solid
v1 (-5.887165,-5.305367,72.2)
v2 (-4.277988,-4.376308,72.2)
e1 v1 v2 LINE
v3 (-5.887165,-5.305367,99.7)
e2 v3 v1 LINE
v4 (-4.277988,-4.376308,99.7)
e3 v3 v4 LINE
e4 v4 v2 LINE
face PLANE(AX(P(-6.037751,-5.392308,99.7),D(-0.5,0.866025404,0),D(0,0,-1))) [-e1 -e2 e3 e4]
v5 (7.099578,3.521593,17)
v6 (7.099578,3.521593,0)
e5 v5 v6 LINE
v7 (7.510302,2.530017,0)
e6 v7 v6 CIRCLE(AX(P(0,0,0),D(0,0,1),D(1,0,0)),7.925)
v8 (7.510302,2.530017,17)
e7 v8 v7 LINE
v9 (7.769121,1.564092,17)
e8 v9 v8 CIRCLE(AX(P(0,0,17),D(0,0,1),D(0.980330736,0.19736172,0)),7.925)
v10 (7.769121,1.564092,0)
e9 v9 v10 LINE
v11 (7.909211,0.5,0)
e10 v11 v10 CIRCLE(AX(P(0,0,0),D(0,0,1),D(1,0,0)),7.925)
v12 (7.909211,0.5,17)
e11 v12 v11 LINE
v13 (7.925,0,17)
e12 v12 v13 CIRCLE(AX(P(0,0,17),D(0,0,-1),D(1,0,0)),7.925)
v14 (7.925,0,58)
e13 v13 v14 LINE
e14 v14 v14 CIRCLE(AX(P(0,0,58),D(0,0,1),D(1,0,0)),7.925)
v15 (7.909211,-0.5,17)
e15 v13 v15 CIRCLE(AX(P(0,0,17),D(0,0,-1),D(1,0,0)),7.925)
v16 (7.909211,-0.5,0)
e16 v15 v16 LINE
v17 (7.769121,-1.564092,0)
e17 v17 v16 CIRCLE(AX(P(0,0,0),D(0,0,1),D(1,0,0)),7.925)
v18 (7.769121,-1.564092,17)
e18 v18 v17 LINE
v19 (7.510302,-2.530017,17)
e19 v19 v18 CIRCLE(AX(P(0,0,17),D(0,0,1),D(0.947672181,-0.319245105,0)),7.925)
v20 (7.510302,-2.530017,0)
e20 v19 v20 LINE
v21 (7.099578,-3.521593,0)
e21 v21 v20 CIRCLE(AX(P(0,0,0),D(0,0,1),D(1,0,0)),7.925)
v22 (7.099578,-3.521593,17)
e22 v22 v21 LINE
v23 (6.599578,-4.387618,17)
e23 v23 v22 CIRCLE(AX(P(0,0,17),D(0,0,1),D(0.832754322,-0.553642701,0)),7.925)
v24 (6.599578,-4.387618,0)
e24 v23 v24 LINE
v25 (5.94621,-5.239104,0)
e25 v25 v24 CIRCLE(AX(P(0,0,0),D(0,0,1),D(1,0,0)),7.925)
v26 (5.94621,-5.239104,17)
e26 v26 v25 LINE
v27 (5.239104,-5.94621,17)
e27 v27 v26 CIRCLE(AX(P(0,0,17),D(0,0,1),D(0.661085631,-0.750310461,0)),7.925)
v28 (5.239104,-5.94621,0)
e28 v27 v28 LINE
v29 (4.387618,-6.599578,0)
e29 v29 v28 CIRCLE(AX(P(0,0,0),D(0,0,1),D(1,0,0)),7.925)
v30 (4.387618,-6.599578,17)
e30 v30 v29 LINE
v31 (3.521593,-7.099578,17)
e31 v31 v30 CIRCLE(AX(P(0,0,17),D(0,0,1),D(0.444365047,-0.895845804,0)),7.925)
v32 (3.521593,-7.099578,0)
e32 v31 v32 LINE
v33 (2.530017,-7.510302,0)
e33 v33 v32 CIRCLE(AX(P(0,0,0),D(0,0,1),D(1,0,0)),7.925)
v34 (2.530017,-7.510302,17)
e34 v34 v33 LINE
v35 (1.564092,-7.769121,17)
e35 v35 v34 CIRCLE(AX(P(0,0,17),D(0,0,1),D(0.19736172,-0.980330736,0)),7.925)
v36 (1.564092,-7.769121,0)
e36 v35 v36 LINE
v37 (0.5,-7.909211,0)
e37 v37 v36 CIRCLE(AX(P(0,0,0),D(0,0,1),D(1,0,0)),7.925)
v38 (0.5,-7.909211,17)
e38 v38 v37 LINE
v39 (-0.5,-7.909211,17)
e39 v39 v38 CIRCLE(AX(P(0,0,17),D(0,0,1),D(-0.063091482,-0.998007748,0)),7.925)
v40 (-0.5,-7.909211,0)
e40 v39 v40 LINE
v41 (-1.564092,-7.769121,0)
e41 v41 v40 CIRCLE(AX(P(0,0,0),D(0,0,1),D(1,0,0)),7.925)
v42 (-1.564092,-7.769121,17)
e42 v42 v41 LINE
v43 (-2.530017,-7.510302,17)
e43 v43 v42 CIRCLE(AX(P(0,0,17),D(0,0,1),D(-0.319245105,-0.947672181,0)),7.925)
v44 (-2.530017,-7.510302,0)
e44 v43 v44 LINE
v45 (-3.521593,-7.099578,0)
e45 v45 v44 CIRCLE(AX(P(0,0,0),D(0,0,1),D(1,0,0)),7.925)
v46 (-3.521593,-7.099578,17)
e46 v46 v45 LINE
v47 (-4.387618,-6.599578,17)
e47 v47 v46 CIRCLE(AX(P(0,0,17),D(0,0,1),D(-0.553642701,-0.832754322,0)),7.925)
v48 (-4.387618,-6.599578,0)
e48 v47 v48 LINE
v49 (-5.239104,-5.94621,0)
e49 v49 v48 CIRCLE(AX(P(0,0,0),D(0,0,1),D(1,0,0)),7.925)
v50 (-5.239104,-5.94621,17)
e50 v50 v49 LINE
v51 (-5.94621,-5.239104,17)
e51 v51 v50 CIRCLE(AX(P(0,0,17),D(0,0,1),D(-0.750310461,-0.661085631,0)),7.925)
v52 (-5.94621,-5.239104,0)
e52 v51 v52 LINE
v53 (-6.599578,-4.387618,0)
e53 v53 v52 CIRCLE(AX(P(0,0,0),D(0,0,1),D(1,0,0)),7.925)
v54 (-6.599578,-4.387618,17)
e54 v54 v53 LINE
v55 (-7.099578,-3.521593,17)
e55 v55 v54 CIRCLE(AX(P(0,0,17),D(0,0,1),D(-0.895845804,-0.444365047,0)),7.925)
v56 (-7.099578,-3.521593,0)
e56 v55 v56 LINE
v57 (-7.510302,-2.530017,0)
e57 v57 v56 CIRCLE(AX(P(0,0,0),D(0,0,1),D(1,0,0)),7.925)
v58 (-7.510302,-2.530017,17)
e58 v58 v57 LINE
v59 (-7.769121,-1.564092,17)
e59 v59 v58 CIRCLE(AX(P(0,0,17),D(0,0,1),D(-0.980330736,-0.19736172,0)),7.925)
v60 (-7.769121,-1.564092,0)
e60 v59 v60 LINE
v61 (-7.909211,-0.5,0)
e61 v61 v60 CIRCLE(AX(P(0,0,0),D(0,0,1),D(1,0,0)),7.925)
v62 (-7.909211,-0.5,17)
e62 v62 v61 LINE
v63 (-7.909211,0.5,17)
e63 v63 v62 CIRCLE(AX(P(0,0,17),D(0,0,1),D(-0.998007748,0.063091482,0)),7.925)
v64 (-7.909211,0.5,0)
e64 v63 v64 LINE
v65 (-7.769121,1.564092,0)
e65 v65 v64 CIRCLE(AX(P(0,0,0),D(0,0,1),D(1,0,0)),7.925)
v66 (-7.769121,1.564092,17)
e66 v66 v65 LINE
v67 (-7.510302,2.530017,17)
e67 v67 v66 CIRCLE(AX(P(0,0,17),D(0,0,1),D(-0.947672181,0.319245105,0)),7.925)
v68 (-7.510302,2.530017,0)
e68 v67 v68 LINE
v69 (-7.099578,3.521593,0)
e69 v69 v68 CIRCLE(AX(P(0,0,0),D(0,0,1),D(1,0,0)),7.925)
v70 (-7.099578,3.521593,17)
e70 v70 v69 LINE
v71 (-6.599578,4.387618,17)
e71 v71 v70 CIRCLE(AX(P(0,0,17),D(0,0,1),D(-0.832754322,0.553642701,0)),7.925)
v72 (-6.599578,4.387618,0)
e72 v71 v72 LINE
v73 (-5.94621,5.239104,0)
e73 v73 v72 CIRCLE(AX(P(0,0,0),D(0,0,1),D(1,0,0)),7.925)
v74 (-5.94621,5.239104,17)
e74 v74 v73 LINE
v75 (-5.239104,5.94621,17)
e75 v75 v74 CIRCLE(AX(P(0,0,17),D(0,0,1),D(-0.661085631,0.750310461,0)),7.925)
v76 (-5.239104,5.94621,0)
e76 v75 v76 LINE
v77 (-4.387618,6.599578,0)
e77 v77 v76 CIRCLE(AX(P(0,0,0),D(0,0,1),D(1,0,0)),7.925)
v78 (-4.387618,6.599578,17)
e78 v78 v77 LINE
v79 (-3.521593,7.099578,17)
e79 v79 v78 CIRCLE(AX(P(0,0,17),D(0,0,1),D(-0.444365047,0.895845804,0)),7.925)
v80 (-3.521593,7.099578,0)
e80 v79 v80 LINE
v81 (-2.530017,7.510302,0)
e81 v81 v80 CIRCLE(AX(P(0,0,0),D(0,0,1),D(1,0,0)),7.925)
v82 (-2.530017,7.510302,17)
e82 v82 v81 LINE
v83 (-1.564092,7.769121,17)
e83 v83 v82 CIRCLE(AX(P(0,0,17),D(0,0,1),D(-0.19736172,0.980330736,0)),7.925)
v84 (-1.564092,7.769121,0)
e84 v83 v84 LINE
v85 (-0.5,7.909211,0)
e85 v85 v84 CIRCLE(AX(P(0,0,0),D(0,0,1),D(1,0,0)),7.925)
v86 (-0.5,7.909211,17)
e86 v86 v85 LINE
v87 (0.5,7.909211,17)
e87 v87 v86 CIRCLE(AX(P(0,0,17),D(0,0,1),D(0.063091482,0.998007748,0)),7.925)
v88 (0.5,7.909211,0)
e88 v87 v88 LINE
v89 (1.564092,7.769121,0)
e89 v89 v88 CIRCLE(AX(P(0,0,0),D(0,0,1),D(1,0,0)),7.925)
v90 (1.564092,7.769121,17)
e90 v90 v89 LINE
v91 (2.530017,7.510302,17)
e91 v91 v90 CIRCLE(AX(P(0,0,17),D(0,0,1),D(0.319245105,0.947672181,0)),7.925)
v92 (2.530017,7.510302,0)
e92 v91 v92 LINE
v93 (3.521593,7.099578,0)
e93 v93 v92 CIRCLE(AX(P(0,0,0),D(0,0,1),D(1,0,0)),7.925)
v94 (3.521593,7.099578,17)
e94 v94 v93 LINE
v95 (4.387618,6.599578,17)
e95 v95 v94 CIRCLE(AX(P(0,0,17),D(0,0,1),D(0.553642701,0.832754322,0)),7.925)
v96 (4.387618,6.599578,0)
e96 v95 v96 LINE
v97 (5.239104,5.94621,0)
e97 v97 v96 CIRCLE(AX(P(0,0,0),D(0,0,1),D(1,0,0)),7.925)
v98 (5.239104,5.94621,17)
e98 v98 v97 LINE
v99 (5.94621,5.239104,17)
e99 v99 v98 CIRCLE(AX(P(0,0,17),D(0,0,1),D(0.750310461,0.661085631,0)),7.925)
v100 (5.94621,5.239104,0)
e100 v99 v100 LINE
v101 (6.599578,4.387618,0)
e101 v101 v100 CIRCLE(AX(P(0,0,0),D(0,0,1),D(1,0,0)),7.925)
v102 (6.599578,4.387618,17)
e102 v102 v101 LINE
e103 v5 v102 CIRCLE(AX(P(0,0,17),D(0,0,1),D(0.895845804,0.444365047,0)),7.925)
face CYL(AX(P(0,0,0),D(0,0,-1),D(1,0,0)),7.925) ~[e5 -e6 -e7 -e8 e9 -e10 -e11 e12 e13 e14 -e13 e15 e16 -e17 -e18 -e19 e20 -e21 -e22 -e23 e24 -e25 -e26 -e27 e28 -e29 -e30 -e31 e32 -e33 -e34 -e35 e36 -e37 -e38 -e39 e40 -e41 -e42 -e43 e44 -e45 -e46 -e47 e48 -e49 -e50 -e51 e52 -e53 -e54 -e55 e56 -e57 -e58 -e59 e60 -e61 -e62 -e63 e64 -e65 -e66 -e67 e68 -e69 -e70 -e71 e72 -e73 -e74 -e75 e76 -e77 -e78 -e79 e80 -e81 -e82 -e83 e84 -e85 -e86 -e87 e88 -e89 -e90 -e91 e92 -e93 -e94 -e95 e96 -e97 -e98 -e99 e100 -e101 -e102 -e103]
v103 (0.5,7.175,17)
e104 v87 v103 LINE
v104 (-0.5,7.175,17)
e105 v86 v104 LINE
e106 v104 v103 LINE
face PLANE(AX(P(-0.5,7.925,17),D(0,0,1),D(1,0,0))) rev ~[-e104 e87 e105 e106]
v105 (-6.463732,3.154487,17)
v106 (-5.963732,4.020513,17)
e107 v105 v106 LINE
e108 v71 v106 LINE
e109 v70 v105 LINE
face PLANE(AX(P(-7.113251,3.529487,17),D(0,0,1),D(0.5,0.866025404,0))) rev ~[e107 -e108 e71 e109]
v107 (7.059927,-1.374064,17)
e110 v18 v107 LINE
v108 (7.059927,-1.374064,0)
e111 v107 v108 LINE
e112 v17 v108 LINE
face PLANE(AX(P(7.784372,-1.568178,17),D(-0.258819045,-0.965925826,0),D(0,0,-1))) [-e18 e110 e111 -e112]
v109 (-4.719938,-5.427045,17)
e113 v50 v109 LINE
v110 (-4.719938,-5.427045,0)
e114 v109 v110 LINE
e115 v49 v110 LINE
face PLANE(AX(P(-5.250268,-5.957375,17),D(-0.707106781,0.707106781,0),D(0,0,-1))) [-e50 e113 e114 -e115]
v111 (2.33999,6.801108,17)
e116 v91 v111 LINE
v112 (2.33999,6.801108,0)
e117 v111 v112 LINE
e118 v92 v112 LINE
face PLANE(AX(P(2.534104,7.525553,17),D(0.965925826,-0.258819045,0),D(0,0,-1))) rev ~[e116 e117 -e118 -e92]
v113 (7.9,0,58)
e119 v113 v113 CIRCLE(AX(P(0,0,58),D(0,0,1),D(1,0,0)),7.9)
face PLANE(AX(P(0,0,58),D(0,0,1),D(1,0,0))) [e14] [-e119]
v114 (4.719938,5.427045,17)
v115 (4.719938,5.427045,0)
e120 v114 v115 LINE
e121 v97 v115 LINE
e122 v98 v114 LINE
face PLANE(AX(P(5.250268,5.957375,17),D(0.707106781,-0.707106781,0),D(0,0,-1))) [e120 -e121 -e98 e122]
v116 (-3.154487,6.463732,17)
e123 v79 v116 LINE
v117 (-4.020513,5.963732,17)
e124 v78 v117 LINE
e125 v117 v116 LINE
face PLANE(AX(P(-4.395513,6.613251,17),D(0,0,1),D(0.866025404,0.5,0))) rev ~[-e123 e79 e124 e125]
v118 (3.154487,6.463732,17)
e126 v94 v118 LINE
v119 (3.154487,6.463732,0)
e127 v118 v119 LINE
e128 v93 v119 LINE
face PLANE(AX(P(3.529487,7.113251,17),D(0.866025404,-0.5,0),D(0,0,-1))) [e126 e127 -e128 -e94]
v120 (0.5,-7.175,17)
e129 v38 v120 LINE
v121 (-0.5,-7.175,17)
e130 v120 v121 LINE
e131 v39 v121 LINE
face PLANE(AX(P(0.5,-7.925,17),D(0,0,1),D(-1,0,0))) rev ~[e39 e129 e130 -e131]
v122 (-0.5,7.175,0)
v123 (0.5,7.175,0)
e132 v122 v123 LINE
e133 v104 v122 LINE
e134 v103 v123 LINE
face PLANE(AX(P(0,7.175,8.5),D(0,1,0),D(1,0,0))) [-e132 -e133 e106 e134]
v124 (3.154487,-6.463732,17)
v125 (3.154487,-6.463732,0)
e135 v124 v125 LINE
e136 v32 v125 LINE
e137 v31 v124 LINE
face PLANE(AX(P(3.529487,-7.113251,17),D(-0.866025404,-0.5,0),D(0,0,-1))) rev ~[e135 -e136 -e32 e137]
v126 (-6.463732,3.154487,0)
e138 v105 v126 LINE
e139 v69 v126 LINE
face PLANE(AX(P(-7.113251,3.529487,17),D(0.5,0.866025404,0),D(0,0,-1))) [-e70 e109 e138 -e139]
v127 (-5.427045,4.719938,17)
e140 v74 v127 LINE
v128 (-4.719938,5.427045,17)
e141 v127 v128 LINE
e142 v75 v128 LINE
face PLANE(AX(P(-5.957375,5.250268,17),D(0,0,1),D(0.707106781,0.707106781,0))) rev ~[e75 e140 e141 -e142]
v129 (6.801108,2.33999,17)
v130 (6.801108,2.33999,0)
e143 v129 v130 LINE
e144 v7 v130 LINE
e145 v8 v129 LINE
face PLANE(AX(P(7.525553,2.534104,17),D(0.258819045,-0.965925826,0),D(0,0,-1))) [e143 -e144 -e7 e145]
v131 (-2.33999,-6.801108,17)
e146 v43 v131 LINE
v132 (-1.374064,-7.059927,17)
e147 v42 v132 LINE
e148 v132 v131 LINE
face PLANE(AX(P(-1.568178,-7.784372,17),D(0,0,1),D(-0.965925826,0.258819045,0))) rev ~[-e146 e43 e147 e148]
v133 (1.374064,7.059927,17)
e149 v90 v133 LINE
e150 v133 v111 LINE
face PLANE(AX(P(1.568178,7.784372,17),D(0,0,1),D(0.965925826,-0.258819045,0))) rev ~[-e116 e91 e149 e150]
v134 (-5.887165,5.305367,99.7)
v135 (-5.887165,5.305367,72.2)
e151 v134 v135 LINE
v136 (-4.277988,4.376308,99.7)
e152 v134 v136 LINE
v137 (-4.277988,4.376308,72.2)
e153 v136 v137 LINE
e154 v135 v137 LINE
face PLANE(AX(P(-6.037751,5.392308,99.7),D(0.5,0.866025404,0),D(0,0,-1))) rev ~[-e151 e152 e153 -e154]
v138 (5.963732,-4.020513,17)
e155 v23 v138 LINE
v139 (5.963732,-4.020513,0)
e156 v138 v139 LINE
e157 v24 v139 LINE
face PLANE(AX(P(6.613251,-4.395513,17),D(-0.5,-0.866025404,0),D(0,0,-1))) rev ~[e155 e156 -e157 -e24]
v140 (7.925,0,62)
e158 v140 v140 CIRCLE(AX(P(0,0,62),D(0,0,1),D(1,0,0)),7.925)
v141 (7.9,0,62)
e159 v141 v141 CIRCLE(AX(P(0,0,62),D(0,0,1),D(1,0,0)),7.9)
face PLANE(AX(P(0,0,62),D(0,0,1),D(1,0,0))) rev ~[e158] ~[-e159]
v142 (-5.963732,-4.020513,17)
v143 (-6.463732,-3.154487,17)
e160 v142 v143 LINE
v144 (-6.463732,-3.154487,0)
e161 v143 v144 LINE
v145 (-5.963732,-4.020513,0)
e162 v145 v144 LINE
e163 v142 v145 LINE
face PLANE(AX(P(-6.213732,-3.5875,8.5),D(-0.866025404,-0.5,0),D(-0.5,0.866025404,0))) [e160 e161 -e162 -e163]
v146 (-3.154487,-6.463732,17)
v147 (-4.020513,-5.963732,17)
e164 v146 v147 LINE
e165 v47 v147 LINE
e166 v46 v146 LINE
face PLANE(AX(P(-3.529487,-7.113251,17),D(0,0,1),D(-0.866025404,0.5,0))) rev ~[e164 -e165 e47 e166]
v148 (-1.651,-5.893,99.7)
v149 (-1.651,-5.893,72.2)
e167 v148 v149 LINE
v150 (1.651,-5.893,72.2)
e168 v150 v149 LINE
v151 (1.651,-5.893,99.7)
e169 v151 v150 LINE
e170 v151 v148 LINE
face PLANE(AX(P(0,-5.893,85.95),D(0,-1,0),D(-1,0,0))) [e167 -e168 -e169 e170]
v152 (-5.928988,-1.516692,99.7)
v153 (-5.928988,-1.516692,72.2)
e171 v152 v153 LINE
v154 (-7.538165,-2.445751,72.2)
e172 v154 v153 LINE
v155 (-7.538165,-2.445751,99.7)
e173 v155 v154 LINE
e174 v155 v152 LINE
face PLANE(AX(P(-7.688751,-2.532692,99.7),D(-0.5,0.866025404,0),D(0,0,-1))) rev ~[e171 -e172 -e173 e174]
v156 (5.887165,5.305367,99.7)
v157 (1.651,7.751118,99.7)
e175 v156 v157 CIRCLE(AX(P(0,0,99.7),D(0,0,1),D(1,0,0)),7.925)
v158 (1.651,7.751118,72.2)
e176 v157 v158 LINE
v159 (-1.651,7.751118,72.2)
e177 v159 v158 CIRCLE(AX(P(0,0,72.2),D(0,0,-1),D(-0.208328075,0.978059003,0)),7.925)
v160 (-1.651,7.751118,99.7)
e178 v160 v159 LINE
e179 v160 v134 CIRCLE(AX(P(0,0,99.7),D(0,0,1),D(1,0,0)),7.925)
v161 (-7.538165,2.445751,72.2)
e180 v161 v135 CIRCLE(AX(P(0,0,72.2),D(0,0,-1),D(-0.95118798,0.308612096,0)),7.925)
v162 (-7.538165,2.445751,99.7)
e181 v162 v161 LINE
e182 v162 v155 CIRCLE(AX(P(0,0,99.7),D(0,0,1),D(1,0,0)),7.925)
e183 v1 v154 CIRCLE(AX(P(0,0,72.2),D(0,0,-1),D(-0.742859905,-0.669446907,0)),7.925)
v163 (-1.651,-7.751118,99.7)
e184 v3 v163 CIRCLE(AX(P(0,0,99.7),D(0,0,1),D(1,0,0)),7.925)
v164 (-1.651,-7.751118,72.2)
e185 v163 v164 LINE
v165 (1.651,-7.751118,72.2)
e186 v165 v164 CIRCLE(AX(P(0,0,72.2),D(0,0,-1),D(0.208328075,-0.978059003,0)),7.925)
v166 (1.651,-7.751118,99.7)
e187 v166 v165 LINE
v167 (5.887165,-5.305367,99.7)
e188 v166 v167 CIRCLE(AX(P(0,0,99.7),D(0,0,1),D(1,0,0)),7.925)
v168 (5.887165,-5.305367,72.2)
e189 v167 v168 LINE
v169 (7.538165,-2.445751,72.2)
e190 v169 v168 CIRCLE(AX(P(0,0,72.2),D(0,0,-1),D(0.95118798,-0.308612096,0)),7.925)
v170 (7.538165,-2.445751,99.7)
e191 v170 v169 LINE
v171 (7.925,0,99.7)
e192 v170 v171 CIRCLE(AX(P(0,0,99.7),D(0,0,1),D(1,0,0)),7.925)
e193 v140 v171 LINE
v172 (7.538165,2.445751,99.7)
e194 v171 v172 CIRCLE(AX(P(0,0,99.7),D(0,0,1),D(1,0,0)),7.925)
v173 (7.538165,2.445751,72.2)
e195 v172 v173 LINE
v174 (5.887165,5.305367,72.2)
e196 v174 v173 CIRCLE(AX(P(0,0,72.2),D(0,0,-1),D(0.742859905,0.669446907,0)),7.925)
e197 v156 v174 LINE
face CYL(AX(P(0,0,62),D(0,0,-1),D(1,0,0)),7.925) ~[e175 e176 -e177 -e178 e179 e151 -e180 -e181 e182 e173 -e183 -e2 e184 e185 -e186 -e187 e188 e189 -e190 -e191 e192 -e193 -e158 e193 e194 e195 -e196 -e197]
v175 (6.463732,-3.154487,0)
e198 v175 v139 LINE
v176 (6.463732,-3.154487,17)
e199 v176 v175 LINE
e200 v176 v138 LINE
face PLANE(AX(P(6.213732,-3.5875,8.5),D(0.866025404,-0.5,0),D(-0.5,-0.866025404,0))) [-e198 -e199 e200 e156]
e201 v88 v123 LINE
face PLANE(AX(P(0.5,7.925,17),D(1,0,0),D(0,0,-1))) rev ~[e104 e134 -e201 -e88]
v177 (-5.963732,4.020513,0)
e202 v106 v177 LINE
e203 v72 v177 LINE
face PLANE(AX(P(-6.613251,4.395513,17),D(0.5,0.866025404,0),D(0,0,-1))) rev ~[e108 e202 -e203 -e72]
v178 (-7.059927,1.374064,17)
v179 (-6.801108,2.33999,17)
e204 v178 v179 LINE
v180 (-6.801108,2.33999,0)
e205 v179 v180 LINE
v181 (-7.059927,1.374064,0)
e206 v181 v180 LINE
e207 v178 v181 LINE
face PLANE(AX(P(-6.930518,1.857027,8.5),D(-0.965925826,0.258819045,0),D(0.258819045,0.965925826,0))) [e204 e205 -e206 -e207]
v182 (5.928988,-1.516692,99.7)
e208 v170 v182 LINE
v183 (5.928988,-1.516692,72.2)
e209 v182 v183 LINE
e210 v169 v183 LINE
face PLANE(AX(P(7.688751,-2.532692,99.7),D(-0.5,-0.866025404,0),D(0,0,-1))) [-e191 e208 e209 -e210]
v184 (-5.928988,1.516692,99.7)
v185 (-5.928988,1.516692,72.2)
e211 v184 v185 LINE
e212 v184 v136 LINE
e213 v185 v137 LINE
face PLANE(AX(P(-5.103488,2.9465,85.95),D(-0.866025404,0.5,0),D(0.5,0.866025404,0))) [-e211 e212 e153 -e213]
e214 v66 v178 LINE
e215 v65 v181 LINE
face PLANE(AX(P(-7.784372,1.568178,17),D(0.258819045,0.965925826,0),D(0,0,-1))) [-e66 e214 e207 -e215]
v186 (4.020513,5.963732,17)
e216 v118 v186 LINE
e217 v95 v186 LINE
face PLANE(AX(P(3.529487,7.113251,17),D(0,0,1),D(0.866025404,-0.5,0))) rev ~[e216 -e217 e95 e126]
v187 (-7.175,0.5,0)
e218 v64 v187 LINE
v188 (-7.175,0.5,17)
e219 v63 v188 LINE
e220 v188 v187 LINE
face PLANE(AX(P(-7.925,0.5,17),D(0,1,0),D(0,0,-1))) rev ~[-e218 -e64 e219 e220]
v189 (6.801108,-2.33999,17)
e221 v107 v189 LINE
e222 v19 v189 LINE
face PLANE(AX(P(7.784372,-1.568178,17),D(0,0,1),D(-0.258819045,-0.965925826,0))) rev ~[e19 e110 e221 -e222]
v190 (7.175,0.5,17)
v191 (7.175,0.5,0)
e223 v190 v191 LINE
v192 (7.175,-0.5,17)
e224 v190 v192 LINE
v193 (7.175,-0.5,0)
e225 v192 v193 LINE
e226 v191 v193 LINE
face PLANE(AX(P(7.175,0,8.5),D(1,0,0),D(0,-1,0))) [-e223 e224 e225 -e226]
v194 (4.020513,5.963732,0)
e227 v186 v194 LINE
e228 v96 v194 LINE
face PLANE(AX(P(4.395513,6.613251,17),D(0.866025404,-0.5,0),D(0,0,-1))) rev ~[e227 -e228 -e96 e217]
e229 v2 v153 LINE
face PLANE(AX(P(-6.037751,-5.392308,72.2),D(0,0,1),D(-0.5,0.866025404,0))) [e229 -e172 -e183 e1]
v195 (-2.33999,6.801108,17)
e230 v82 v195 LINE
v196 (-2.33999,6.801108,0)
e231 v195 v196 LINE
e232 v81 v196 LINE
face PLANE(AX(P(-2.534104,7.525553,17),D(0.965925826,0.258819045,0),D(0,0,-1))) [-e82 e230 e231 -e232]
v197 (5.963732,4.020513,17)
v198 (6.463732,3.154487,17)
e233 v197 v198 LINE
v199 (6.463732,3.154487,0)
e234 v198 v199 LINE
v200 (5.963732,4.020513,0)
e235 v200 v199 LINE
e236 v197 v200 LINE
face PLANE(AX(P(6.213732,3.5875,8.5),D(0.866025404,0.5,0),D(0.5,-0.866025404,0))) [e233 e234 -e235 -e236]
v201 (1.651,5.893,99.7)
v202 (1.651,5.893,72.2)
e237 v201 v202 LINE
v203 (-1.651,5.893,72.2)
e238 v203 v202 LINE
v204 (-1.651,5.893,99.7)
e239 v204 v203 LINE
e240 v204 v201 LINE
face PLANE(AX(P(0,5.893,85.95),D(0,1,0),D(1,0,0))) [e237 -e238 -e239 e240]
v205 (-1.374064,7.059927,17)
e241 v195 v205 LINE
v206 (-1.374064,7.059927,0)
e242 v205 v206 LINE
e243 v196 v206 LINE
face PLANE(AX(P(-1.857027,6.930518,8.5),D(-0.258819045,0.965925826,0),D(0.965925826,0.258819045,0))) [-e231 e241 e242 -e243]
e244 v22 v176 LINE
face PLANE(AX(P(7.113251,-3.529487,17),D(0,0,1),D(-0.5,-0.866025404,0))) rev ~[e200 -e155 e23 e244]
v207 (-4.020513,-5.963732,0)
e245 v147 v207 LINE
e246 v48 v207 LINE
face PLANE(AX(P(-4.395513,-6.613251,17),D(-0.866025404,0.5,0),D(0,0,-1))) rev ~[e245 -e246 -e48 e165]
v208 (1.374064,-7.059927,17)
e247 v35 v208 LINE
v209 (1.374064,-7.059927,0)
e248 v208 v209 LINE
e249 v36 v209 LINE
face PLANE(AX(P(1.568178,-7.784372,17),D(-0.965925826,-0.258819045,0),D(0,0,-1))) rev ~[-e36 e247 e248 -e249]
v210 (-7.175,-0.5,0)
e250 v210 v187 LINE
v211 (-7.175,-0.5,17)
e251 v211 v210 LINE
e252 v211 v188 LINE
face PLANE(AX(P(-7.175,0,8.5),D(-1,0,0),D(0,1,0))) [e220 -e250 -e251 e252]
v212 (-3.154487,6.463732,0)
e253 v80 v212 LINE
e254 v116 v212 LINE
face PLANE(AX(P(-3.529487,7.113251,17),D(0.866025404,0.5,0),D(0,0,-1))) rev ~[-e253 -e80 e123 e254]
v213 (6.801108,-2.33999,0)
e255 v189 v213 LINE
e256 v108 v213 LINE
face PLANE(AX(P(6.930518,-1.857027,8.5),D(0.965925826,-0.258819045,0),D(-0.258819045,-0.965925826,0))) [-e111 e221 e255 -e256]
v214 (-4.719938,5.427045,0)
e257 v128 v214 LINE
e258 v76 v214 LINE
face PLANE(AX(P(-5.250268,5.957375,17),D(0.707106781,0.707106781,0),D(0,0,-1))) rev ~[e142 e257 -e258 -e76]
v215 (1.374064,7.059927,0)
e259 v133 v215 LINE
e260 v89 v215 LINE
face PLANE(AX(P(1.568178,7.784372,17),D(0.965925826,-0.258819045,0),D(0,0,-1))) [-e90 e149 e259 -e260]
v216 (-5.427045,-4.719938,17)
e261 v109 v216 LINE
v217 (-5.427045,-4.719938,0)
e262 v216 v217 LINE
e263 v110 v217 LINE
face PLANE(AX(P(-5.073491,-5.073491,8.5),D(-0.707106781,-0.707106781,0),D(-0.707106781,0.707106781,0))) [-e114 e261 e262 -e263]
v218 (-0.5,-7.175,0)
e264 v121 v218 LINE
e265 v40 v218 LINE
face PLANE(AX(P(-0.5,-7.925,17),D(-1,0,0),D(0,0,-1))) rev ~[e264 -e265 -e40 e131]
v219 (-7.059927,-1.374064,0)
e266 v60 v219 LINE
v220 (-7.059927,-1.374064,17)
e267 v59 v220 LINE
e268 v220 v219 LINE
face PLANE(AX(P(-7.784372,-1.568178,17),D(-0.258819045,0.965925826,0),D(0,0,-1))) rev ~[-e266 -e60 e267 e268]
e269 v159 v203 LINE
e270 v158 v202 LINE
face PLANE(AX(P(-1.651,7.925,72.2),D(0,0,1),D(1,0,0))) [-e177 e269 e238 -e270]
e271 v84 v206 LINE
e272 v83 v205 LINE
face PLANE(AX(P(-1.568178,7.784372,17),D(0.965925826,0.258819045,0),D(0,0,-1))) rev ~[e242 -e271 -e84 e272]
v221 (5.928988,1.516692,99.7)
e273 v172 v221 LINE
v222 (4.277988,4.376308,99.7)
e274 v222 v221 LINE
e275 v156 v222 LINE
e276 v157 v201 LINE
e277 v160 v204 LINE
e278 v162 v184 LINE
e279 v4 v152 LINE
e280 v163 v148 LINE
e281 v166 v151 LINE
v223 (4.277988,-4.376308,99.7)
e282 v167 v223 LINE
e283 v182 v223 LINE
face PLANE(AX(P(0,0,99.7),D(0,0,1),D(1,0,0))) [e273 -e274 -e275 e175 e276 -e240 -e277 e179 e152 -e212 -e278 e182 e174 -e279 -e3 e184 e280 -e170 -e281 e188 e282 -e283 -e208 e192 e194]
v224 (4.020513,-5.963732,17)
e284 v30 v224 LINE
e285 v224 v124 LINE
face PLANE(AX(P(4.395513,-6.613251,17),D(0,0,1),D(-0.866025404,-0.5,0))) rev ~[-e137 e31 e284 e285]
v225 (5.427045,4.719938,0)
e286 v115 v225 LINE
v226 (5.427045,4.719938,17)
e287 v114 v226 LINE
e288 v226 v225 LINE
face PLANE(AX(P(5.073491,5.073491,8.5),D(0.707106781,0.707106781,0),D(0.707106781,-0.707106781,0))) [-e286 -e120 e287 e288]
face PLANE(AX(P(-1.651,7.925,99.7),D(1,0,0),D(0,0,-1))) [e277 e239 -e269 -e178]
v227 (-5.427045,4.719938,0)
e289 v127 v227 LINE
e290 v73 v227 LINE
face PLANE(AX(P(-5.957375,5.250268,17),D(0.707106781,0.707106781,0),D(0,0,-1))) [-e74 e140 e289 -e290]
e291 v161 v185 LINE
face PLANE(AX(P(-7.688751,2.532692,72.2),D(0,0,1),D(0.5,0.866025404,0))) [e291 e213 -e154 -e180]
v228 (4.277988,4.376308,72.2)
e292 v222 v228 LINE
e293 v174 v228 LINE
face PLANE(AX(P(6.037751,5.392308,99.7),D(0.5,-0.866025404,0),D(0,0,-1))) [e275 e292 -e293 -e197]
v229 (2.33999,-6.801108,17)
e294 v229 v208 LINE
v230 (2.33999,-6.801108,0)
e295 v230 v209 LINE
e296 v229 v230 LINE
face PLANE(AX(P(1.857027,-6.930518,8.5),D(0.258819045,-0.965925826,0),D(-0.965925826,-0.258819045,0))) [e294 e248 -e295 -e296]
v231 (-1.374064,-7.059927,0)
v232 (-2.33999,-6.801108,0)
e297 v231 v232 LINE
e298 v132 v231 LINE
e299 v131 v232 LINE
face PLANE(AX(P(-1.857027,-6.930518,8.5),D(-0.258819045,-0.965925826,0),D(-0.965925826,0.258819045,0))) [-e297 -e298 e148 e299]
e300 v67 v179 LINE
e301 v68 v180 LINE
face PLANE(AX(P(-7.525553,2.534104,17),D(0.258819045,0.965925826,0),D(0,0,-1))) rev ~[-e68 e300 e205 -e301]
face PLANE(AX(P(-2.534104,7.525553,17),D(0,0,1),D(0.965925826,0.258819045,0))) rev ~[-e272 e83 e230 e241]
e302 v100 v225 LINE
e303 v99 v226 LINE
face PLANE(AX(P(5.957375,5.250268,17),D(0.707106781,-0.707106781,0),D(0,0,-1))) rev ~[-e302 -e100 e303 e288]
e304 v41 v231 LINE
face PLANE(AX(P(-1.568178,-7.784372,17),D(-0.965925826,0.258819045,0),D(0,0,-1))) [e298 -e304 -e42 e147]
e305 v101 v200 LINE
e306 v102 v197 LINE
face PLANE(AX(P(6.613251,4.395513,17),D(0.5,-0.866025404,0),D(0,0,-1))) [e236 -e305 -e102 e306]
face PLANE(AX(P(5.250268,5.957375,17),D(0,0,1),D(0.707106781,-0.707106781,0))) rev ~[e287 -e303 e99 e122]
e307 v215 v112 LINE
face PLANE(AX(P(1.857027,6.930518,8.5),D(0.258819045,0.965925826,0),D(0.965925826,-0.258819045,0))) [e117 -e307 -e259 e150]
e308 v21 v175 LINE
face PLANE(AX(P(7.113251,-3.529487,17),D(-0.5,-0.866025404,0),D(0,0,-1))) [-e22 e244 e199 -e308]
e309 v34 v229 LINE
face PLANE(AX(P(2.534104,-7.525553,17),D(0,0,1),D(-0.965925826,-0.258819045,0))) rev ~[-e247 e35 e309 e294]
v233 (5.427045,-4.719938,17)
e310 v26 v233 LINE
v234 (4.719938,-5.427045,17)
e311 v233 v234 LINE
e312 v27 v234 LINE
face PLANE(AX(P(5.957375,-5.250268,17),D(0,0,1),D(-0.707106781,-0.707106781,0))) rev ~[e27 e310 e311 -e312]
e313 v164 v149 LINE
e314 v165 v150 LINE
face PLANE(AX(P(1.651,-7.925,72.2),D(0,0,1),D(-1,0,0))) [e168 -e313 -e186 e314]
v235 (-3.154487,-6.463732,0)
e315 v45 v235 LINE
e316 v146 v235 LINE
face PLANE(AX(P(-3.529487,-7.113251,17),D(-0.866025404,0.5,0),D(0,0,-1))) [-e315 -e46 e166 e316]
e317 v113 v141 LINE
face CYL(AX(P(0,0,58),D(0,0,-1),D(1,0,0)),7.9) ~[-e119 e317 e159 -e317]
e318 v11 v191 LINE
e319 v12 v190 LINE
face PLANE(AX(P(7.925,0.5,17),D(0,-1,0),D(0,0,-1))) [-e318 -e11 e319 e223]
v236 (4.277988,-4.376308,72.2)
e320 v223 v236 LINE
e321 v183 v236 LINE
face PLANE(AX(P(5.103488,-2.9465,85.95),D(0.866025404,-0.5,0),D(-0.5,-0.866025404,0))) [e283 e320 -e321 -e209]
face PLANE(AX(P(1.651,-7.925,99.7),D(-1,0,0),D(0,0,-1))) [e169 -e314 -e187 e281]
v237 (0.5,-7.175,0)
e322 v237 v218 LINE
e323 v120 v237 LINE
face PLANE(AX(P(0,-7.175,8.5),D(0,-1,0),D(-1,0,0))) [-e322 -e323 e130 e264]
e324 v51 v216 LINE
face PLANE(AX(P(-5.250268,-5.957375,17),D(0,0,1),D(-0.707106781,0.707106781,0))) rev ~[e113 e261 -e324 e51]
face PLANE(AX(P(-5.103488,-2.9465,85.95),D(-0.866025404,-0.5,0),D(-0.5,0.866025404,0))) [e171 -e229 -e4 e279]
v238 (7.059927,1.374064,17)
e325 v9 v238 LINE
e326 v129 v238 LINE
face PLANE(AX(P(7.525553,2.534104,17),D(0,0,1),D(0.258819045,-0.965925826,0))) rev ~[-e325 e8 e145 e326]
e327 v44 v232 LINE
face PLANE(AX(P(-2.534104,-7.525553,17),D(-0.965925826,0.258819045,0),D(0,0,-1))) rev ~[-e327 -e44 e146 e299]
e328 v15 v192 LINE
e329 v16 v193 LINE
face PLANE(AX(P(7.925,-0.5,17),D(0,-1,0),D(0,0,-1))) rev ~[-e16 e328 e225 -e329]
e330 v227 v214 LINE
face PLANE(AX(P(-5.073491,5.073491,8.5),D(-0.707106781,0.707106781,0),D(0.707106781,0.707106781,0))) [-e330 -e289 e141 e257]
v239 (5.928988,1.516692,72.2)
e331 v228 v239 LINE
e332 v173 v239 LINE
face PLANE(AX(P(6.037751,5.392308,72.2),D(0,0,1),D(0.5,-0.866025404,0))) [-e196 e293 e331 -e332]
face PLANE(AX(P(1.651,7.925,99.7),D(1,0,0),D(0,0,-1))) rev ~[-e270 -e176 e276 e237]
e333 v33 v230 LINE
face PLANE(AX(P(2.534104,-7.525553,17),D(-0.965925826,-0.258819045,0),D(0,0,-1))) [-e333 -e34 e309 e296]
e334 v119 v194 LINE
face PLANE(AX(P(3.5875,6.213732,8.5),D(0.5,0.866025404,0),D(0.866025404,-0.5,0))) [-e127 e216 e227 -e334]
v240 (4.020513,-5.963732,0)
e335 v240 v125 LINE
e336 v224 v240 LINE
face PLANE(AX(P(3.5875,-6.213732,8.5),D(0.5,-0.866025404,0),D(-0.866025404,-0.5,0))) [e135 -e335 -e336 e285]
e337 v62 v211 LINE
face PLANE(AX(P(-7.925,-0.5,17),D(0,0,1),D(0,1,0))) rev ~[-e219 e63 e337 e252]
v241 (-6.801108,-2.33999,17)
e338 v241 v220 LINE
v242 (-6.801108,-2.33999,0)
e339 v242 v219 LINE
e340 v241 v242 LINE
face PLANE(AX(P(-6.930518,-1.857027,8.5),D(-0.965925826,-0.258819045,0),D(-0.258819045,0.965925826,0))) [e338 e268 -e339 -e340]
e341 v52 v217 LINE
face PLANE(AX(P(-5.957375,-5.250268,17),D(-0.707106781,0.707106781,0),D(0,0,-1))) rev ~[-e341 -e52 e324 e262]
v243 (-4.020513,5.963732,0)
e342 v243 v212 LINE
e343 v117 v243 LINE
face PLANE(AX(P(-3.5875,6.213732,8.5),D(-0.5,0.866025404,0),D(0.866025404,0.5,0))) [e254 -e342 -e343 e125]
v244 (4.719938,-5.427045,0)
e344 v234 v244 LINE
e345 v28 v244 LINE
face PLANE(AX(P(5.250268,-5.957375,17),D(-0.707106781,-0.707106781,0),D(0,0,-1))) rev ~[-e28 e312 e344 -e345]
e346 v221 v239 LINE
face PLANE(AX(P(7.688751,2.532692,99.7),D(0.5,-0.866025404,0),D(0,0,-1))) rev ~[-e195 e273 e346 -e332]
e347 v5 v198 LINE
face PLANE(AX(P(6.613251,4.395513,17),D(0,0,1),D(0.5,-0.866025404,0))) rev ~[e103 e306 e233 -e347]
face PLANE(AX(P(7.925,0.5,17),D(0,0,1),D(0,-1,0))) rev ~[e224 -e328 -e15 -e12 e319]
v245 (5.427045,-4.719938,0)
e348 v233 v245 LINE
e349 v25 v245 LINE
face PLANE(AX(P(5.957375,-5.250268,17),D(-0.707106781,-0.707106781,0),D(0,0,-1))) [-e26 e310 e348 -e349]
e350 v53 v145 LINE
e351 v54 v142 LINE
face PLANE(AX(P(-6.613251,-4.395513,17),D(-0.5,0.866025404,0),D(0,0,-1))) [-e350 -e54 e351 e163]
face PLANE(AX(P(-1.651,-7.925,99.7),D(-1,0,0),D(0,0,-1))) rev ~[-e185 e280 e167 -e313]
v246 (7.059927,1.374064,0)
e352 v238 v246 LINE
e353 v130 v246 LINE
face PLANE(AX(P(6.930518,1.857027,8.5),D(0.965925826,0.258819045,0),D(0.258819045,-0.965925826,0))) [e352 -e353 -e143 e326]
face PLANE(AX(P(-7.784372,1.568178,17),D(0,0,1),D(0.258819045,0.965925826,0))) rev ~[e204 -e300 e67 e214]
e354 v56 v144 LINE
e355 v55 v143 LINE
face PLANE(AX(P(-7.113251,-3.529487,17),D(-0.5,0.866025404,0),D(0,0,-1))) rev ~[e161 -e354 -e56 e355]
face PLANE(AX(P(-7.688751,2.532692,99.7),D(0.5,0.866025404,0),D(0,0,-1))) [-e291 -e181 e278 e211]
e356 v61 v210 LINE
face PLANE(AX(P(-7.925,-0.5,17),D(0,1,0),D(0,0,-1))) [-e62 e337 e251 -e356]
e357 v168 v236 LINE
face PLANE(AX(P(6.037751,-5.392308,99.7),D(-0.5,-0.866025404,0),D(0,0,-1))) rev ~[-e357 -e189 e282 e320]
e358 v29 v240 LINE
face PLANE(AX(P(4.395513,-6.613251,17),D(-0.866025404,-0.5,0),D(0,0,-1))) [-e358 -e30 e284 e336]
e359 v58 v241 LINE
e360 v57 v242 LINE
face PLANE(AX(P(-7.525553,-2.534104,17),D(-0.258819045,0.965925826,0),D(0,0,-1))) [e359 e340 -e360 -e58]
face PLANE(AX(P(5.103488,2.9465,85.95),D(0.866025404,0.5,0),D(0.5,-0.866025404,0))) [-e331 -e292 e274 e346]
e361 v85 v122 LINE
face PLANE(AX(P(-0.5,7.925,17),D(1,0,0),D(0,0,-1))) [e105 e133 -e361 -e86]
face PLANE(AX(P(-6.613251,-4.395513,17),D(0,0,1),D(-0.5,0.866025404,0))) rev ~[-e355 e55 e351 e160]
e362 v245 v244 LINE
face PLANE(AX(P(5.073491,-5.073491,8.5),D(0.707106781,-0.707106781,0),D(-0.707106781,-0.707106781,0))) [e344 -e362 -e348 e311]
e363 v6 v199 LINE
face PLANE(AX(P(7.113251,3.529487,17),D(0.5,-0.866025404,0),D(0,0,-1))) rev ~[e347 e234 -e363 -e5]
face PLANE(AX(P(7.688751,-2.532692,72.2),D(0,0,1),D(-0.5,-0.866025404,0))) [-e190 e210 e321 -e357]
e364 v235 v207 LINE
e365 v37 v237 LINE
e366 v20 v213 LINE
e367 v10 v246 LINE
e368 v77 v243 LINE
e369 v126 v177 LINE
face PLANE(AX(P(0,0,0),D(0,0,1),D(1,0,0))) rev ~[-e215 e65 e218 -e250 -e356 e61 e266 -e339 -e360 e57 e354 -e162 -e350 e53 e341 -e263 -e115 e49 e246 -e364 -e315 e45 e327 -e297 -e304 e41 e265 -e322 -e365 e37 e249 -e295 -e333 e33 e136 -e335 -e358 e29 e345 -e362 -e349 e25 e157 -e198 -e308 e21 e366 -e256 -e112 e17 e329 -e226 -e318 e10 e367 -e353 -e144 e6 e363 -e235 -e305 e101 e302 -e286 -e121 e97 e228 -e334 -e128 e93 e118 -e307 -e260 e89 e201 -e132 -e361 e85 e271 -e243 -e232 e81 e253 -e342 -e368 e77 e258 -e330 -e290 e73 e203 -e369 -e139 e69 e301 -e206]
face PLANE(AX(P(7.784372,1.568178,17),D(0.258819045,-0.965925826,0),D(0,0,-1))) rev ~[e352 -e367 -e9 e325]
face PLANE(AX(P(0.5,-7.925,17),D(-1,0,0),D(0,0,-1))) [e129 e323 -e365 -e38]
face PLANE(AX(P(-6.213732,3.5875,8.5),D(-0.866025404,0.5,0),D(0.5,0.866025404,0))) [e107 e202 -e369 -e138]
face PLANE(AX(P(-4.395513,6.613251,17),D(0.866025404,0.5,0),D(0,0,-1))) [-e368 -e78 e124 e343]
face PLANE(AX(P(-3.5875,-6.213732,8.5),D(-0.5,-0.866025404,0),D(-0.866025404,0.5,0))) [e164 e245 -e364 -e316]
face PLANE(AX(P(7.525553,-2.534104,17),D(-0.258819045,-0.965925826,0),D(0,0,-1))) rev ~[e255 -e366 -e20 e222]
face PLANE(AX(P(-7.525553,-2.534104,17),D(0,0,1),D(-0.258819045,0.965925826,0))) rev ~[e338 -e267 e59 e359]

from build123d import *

# Parameters (mm, degrees)
SKETCH1_R           = 7.925000025
BOSS_EXTRUDE1_DEPTH = 58.000000078
SKETCH2_R           = 7.899999948
BOSS_EXTRUDE2_DEPTH = 4
SKETCH3_R           = 7.925000025
BOSS_EXTRUDE3_DEPTH = 37.7
SKETCH4_W           = 3.302
SKETCH4_H           = 27.5
CUT_EXTRUDE1_DEPTH  = 2.032
CIRPATTERN1_COUNT   = 6
SKETCH10_W          = 1
SKETCH10_H          = 17
CUT_EXTRUDE2_DEPTH  = 0.75
CIRPATTERN2_COUNT   = 24


with BuildPart() as part:
    # Sketch1 → Boss-Extrude1 (new body)
    with BuildSketch(Plane.XY):
        Circle(SKETCH1_R)
    extrude(amount=BOSS_EXTRUDE1_DEPTH)

    # Sketch2 → Boss-Extrude2 (add)
    with BuildSketch(Plane.XY.offset(58.000000078)):
        Circle(SKETCH2_R)
    extrude(amount=BOSS_EXTRUDE2_DEPTH)

    # Sketch3 → Boss-Extrude3 (add)
    with BuildSketch(Plane.XY.offset(62.000000078)):
        Circle(SKETCH3_R)
    extrude(amount=BOSS_EXTRUDE3_DEPTH)

    # Sketch4 → Cut-Extrude1 (cut)
    with BuildSketch(Plane(origin=(0, 7.925000025, 0), x_dir=(1, 0, 0), z_dir=(0, 1, 0))):
        with Locations((0, -85.950000078)):
            Rectangle(SKETCH4_W, SKETCH4_H)
    cut_extrude1 = extrude(amount=-CUT_EXTRUDE1_DEPTH, mode=Mode.SUBTRACT)

    # CirPattern1: Cut-Extrude1 ×6 about axis
    cirpattern1_axis = Axis((0, 0, 0), (0, 0, 1))
    for i in range(1, CIRPATTERN1_COUNT):
        add(cut_extrude1.rotate(cirpattern1_axis, i * 360 / CIRPATTERN1_COUNT), mode=Mode.SUBTRACT)

    # Sketch10 → Cut-Extrude2 (cut)
    with BuildSketch(Plane(origin=(0, 7.925000025, 0), x_dir=(1, 0, 0), z_dir=(0, 1, 0))):
        with Locations((0, -8.5)):
            Rectangle(SKETCH10_W, SKETCH10_H)
    cut_extrude2 = extrude(amount=-CUT_EXTRUDE2_DEPTH, mode=Mode.SUBTRACT)

    # CirPattern2: Cut-Extrude2 ×24 about axis
    cirpattern2_axis = Axis((0, 0, 0), (0, 0, 1))
    for i in range(1, CIRPATTERN2_COUNT):
        add(cut_extrude2.rotate(cirpattern2_axis, i * 360 / CIRPATTERN2_COUNT), mode=Mode.SUBTRACT)


solid = part.part
